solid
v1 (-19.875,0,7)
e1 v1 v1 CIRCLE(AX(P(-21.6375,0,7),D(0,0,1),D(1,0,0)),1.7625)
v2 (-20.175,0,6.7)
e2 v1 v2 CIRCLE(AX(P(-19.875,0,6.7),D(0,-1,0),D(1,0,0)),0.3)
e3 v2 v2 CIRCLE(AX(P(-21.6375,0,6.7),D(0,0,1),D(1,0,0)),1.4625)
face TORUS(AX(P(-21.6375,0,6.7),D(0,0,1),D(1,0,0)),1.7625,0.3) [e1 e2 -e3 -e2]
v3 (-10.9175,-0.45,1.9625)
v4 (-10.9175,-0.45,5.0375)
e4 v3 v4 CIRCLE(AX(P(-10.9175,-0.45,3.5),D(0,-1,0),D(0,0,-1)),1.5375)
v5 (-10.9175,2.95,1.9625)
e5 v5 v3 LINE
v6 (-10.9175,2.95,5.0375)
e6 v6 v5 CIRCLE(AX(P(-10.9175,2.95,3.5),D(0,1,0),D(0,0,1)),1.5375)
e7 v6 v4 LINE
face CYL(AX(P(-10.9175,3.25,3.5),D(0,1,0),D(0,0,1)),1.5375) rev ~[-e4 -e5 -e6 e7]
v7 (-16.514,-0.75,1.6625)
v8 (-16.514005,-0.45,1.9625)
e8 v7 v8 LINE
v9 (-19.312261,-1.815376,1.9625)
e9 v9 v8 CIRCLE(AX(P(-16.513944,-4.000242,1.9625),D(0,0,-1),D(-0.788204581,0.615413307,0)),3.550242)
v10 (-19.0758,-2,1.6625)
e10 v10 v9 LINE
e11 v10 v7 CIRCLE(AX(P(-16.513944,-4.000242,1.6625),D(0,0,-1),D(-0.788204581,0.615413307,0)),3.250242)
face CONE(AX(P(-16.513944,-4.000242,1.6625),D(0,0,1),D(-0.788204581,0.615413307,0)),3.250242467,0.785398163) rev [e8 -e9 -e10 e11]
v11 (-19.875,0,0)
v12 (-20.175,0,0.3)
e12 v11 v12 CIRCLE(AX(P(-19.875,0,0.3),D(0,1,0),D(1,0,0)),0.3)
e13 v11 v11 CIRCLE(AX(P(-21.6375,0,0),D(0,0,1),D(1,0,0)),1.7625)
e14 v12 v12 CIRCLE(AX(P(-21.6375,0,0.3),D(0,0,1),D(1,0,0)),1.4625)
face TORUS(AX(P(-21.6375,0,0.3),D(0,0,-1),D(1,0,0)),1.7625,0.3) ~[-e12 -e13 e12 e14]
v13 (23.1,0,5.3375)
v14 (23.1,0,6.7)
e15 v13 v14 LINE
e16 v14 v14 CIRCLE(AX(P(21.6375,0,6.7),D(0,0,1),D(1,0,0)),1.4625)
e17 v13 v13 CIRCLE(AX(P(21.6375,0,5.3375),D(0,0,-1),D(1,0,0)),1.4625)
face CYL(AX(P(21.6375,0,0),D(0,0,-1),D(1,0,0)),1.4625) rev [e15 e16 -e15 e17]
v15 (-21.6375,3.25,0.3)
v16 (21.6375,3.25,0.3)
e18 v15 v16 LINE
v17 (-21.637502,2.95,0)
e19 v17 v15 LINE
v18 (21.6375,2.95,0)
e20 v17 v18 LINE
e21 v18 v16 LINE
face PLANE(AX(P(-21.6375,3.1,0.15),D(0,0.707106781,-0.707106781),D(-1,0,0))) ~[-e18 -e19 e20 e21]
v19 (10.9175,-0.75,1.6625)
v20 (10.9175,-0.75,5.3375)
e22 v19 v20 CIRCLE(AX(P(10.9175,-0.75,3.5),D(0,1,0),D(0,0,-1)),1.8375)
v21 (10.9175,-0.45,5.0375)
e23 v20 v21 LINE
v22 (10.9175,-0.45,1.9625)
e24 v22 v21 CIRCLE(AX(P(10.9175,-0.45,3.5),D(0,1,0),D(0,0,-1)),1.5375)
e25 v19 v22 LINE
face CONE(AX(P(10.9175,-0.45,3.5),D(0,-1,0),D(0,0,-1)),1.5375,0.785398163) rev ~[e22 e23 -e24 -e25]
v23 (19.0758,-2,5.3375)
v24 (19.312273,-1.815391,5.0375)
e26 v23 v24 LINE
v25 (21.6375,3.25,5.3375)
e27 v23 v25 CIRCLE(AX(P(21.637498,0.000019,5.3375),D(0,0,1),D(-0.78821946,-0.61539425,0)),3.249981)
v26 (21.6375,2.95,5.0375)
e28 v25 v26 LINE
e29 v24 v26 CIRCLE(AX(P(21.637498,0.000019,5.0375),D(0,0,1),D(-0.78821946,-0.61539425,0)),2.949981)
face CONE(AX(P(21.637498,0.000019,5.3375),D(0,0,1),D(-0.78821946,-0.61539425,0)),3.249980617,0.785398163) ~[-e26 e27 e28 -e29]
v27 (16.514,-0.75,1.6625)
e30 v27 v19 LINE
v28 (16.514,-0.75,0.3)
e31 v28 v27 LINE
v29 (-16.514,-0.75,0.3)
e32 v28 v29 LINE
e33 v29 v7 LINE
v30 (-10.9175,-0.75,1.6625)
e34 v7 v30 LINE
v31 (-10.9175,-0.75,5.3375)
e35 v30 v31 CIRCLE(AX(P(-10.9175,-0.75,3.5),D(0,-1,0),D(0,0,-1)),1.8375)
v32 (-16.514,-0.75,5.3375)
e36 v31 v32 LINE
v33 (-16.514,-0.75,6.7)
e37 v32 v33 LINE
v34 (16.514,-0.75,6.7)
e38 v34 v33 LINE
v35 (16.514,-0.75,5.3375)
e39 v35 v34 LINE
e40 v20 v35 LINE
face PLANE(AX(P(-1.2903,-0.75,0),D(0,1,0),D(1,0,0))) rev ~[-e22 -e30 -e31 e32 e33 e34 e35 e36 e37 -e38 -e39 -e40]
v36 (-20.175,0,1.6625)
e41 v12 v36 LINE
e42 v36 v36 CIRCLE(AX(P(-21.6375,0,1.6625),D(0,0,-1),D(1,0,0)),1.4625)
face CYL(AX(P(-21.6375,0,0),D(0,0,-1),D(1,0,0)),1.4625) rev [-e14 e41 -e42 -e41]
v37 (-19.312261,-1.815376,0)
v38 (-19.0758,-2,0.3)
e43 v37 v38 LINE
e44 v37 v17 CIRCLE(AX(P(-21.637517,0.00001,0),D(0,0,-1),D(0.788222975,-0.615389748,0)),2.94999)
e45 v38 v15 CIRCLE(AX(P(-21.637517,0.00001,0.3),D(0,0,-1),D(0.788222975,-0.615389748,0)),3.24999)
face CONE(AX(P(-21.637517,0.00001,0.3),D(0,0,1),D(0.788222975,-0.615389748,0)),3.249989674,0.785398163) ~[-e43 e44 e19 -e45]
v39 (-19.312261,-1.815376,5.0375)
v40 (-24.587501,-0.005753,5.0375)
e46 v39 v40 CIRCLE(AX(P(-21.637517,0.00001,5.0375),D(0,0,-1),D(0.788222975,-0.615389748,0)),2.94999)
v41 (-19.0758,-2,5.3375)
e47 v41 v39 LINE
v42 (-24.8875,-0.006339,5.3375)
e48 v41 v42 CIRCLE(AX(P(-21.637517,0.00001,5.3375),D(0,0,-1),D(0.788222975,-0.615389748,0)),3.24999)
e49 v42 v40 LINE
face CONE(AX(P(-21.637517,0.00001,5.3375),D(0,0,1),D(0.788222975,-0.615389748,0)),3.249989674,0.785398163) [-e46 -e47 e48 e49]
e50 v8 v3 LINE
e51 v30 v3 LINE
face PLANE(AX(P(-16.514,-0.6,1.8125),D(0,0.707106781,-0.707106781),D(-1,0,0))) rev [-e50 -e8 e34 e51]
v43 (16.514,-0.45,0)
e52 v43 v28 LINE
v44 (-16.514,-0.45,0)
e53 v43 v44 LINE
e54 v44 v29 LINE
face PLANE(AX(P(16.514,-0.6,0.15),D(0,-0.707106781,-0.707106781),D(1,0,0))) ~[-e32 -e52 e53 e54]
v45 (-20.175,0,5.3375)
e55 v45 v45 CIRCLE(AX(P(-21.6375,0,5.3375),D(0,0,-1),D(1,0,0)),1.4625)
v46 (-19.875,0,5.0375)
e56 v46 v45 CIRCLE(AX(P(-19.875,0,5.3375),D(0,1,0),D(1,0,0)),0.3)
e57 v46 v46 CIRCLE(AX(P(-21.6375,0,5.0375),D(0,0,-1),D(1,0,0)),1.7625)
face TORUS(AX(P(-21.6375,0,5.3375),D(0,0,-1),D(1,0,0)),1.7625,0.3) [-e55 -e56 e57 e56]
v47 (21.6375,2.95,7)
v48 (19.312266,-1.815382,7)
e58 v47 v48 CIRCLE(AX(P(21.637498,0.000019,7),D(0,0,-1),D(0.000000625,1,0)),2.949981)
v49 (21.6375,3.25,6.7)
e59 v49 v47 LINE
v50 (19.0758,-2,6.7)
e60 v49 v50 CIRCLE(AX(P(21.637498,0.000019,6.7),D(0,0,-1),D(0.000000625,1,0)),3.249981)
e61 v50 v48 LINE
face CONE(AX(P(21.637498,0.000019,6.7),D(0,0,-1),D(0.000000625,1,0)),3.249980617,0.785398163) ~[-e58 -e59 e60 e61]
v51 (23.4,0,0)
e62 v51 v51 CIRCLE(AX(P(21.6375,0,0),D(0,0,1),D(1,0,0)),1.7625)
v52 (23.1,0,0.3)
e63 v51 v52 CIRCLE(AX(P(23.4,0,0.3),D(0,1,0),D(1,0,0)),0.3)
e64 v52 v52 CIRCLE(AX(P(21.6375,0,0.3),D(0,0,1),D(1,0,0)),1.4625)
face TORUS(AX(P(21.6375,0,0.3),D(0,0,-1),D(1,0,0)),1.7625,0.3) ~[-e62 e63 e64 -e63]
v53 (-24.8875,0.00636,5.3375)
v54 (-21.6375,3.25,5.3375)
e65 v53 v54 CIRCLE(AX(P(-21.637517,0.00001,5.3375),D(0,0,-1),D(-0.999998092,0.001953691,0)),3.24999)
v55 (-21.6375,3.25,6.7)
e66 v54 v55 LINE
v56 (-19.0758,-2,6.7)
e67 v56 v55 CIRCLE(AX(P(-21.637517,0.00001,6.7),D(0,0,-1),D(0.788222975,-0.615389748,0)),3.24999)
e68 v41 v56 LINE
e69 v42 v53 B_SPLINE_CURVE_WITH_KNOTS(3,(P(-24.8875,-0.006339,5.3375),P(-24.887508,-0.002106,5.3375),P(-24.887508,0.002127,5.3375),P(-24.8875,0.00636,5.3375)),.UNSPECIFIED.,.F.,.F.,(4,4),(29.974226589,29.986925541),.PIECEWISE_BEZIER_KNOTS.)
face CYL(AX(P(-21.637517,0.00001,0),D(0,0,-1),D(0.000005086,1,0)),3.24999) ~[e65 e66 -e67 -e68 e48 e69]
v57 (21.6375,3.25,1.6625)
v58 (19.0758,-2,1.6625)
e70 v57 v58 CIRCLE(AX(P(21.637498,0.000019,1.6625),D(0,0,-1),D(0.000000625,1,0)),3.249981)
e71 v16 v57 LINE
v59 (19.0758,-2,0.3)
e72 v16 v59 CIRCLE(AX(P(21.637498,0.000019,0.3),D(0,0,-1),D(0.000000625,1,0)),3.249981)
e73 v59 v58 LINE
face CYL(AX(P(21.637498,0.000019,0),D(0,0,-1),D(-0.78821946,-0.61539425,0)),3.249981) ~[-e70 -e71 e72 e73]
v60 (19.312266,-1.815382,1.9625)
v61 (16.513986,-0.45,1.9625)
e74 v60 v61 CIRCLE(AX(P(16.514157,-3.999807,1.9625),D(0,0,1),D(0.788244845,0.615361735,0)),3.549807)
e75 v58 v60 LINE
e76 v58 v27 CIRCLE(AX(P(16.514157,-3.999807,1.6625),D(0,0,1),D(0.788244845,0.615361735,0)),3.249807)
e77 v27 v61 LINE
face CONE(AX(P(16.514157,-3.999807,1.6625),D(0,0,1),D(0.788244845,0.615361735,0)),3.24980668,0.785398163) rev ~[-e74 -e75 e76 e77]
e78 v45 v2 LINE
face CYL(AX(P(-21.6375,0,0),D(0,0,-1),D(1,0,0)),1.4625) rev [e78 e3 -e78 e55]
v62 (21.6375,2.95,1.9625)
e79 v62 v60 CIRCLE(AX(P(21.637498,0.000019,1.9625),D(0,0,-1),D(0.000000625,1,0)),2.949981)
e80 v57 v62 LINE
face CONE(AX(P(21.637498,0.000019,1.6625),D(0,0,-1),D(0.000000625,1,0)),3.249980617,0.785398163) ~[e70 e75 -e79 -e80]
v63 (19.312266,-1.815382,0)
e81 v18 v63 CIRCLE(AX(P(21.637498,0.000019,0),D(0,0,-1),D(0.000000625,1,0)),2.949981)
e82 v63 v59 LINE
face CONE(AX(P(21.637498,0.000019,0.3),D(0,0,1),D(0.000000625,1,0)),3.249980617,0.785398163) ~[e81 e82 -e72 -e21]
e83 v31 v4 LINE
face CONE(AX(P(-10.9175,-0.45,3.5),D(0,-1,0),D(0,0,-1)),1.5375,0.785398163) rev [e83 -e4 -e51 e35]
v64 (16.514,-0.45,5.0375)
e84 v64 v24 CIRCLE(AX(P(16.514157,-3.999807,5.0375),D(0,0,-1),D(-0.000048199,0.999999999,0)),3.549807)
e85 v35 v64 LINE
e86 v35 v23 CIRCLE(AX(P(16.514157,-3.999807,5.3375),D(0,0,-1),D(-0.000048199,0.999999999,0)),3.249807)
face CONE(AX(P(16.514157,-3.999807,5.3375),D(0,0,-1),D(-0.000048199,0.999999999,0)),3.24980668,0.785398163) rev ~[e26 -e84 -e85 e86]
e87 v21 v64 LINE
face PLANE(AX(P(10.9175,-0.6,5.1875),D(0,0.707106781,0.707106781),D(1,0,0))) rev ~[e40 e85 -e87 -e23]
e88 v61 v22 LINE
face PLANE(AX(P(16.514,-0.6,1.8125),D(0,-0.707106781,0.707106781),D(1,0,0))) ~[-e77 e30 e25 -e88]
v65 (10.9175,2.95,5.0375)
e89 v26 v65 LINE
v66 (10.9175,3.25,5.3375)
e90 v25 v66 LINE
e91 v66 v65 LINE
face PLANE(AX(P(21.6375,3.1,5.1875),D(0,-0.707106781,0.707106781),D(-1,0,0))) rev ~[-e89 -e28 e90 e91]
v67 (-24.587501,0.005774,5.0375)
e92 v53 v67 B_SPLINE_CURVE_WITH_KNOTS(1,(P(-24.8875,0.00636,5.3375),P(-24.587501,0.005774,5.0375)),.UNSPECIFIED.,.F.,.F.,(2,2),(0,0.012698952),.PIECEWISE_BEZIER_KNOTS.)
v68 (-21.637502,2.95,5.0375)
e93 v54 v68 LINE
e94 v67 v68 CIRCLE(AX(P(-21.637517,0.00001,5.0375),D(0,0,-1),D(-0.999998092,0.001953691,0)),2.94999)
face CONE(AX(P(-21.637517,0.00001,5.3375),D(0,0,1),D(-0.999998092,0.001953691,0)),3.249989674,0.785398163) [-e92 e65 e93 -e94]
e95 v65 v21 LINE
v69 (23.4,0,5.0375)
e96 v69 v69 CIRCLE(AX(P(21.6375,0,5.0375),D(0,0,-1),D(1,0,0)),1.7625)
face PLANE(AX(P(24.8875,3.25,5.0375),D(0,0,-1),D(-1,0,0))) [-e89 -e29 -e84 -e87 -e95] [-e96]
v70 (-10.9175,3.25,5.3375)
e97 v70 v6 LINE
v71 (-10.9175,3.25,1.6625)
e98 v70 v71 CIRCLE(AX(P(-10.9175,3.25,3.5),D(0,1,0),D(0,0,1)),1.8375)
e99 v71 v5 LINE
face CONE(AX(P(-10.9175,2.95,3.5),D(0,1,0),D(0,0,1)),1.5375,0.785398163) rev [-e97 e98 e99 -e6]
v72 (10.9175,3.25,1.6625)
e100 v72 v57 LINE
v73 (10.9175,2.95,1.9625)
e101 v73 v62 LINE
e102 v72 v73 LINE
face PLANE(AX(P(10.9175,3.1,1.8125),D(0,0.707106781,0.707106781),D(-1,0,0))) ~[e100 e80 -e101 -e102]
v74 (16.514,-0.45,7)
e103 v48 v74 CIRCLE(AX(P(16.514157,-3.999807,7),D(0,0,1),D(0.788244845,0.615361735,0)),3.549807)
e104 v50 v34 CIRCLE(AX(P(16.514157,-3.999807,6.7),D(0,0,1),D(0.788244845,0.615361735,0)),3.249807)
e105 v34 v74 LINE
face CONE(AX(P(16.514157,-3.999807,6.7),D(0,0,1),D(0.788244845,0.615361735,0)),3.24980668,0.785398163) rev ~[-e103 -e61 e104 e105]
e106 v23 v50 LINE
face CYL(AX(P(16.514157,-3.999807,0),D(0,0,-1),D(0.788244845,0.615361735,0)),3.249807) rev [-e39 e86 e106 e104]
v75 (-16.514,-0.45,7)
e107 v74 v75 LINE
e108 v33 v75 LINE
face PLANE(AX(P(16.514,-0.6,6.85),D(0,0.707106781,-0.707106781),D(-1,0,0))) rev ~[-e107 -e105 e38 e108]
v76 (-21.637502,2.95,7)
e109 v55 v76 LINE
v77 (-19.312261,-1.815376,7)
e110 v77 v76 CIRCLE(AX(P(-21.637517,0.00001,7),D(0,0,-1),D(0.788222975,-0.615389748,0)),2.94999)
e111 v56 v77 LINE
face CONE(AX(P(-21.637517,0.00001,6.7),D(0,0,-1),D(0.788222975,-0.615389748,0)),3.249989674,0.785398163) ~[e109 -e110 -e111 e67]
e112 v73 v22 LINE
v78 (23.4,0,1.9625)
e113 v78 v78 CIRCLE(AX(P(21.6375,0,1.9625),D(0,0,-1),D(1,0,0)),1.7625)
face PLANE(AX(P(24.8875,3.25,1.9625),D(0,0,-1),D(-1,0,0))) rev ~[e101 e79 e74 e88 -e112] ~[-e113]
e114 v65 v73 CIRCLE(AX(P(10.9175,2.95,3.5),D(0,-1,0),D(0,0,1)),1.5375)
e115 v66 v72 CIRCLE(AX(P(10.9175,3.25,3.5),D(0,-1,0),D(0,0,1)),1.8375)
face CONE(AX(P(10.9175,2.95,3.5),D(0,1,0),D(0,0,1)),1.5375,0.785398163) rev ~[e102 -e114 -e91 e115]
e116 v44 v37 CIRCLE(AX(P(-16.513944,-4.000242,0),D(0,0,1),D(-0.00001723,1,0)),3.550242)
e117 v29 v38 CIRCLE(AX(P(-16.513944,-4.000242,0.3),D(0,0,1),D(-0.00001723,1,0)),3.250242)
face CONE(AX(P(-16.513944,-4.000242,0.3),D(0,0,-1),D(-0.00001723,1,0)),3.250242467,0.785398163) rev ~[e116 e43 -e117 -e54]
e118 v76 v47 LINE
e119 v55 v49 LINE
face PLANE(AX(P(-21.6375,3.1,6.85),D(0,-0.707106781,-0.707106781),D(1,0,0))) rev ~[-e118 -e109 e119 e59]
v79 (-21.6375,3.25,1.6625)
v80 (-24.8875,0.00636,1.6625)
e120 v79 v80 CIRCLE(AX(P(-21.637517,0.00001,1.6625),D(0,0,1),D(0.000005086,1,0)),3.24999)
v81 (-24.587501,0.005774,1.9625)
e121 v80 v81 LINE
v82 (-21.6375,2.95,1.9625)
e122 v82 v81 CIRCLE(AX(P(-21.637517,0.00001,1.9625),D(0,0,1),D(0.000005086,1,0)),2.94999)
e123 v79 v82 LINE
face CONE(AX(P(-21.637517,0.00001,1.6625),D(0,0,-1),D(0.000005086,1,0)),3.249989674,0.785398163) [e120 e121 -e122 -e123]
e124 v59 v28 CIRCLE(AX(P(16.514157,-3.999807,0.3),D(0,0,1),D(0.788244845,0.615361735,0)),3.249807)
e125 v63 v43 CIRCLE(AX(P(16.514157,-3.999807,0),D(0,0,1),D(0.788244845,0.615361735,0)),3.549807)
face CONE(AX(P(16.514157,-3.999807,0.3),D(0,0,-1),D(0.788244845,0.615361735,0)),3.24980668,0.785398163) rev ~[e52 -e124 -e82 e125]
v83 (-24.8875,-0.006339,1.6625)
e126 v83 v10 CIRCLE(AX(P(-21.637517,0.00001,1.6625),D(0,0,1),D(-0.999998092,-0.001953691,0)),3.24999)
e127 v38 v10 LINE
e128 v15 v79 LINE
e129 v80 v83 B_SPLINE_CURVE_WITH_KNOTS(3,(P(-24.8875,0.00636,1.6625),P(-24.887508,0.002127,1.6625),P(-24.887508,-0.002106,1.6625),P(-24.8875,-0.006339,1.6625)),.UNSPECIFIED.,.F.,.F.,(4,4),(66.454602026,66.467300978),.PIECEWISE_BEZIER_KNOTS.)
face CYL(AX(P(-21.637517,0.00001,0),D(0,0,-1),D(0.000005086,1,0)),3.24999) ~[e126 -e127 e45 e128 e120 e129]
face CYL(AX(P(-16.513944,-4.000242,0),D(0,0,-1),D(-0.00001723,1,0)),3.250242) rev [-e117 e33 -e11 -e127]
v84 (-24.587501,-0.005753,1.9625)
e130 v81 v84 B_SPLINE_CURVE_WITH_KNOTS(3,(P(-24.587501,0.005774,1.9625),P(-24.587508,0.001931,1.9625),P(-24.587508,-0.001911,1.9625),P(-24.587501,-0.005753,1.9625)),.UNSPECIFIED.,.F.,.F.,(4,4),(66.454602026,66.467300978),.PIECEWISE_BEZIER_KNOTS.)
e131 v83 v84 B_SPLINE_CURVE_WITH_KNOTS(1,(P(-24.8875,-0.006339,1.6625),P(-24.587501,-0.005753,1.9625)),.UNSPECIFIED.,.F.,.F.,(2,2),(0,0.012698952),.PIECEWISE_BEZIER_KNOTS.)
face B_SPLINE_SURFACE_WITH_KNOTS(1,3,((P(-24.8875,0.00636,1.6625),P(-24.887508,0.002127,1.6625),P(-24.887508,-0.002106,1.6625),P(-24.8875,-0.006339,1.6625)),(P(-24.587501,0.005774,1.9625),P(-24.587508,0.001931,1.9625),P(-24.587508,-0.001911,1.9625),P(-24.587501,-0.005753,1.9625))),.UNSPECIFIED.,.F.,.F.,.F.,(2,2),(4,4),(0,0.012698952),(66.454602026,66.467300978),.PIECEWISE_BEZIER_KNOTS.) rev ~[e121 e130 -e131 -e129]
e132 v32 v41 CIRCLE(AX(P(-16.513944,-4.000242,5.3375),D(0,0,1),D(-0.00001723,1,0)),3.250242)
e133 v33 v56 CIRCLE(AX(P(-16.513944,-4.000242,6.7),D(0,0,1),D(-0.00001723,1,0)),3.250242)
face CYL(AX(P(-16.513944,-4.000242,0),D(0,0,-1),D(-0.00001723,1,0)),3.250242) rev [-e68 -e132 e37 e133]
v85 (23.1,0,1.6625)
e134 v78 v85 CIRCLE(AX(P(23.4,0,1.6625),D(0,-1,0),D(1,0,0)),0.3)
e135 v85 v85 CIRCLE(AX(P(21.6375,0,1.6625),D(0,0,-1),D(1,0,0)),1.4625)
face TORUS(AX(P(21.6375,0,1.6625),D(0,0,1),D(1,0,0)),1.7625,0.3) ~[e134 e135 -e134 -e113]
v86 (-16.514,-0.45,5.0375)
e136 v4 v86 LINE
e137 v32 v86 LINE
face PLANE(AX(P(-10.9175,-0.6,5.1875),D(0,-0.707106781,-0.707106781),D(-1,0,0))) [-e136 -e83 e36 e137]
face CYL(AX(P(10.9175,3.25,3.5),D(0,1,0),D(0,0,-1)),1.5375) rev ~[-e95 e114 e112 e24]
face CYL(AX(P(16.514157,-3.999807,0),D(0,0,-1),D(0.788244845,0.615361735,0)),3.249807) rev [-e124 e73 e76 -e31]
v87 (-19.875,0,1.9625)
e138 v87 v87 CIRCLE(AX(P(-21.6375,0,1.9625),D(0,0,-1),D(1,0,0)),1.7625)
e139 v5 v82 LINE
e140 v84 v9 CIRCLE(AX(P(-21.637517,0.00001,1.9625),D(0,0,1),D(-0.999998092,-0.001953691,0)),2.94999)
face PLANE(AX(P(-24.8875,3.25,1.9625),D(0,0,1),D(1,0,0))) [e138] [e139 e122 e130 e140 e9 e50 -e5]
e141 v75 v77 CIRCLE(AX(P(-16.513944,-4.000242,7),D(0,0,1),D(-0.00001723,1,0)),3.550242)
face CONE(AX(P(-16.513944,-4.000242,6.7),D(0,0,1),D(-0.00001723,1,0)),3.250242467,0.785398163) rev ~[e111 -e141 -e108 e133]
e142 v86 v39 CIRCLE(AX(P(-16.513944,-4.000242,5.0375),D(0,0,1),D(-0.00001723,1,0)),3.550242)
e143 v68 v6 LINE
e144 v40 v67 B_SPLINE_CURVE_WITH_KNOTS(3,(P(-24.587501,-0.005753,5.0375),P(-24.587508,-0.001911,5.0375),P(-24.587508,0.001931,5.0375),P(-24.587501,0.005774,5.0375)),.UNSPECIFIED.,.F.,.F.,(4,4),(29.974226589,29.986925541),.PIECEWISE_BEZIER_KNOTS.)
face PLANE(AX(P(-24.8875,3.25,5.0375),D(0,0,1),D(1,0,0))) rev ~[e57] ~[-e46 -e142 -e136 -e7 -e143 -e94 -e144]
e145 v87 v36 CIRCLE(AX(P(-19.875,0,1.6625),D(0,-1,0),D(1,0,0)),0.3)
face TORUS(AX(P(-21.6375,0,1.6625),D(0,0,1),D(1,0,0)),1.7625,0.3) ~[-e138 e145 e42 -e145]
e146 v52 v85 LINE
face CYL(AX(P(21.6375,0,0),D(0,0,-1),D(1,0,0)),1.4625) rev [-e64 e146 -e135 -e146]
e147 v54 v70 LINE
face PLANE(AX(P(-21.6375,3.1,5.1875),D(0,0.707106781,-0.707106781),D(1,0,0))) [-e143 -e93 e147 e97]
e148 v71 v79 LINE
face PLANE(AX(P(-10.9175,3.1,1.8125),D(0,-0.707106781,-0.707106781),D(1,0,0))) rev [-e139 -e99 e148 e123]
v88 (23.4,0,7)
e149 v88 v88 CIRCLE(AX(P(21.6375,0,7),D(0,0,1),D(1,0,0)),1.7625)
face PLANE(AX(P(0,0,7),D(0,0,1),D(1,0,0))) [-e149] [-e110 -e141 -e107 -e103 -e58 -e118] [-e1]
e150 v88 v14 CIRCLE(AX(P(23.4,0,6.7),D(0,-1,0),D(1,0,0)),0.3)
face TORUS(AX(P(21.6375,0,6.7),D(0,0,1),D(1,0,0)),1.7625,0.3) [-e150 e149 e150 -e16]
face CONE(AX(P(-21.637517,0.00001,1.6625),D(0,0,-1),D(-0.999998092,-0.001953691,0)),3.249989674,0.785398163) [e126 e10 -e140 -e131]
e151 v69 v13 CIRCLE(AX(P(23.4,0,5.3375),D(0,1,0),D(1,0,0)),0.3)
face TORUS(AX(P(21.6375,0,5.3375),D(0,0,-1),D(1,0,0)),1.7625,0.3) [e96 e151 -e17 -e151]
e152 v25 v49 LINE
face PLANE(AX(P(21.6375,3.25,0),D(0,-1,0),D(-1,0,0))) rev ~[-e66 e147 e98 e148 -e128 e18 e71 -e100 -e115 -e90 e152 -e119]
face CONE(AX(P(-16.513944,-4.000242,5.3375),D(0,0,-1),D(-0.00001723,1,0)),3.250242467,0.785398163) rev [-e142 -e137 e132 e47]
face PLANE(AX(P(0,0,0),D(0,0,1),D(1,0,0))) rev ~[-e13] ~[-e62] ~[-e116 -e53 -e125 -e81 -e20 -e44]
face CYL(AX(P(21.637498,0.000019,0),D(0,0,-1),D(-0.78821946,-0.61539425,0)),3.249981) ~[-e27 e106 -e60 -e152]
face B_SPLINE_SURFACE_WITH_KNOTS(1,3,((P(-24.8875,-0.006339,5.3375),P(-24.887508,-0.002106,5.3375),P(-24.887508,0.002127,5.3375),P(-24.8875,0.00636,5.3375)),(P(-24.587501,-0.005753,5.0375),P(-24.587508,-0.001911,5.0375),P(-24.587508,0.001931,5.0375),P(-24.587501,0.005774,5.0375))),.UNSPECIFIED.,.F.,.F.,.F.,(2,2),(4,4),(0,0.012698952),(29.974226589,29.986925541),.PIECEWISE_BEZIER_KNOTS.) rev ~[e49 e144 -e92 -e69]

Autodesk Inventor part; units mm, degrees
ref_plane "YZ Plane" through (0, 0, 0) normal (1, 0, 0) x (0, 1, 0)
ref_plane "XZ Plane" through (0, 0, 0) normal (0, 1, 0) x (-1, 0, 0)
ref_plane "XY Plane" through (0, 0, 0) normal (0, 0, 1) x (1, 0, 0)
sketch "Sketch1" plane through (0, 0, 0) normal (0, 0, 1) x (1, 0, 0)
  circle A0 centre (21.6375, 0) radius 1.4625
  line L0 (21.6375, 3.25) -> (-1.2903, 3.25)
  line L1 (-446494.9011, 0) -> (446494.9011, 0) construction
  line L2 (-1.2903, -0.75) -> (16.514, -0.75)
  arc A1 (19.0758, -2) -> (21.6375, 3.25) centre (21.6375, 0) ccw
  arc A2 (19.0758, -2) -> (16.514, -0.75) centre (16.514, -4) ccw
  line L3 (0, -446500.8256) -> (0, 446500.0254) construction
  circle A3 centre (-21.6375, 0) radius 1.4625
  line L4 (-21.6375, 3.25) -> (-1.2903, 3.25)
  line L5 (446494.9011, 0) -> (-446494.9011, 0) construction
  line L6 (-1.2903, -0.75) -> (-16.514, -0.75)
  arc A4 (-21.6375, 3.25) -> (-19.0758, -2) centre (-21.6375, 0) ccw
  arc A5 (-16.514, -0.75) -> (-19.0758, -2) centre (-16.514, -4) ccw
  point P0 (0, 0)
  dimension "d0" = 4
  dimension "d1" = 3.25
  dimension "d2" = 3.25
  dimension "d3" = 2.925
  dimension "d4" = 43.275
extrude "Extrusion1" add sketch "Sketch1" along normal blind 7
ref_plane "Work Plane1" through (0, 0, 3.5) normal (0, 0, 1) x (1, 0, 0)
sketch "Sketch2" plane through (-21.6375, 3.25, 0) normal (0, 1, 0) x (1, 0, 0)
  line L0 (56.48, -3.5) -> (-13.205, -3.5) construction
  line L1 (46.525, 0) -> (46.525, -7) construction
  line L2 (46.525, -1.9625) -> (32.555, -1.9625)
  line L3 (46.525, -5.0375) -> (32.555, -5.0375)
  arc A0 (32.555, -1.9625) -> (32.555, -5.0375) centre (32.555, -3.5) ccw
  line L4 (46.525, -1.9625) -> (46.525, -5.0375)
  line L5 (21.6375, 1.4) -> (21.6375, -8.4) construction
  line L6 (-3.25, -1.9625) -> (10.72, -1.9625)
  line L7 (-3.25, -5.0375) -> (10.72, -5.0375)
  arc A1 (10.72, -5.0375) -> (10.72, -1.9625) centre (10.72, -3.5) ccw
  line L8 (-3.25, -1.9625) -> (-3.25, -5.0375)
  point P0 (21.6375, 0)
  dimension "d7" = 3.075
  dimension "d9" = 13.97
extrude "Extrusion2" cut sketch "Sketch2" against normal through all
chamfer "Chamfer1" distance 0.3 angle 45 26 edges at (0, -0.75, 7) (17.9392, -1.0792, 7) (24.5583, -1.4252, 7) (0, 3.25, 7) (-24.5583, -1.4252, 7) (-17.9392, -1.0792, 7) (0, -0.75, 0) (17.9392, -1.0792, 0) (24.5583, -1.4252, 0) (0, 3.25, 0) (-24.5583, -1.4252, 0) (-17.9392, -1.0792, 0) (9.38, -0.75, 3.5) (13.7158, -0.75, 5.0375) (17.9392, -1.0792, 5.0375) (24.5583, -1.4252, 5.0375) (24.5583, -1.4252, 1.9625) (17.9392, -1.0792, 1.9625) (13.7158, -0.75, 1.9625) (-17.9392, -1.0792, 1.9625) (-24.5583, -1.4252, 1.9625) (-16.2775, 3.25, 1.9625) (-9.38, 3.25, 3.5) (-16.2775, 3.25, 5.0375) (-24.5583, -1.4252, 5.0375) (-17.9392, -1.0792, 5.0375)
fillet "Fillet1" radius 0.3 8 edges at (-23.1, 0, 7) (-23.1, 0, 5.0375) (-23.1, 0, 1.9625) (-23.1, 0, 0) (20.175, 0, 7) (20.175, 0, 5.0375) (20.175, 0, 1.9625) (20.175, 0, 0)
equation "\"d0\" = bar_thickness"
equation "\"d1\" = 0.5 * bar_diameter"
equation "\"d2\" = 0.5 * bar_diameter"
equation "\"d3\" = bore_press"
equation "\"d4\" = bar_guid_length_ab"
equation "\"d5\" = bar_width"
equation "\"d7\" = hinge_thickness + finger_link_clearence"
equation "\"d10\" = hinge_thickness"
equation "\"d12\" = champfer"
equation "\"bar_length_bc\" = finger_part_B_length"
equation "\"hinge_thickness\" = 3"
equation "\"bar_diameter\" = 6.5"
equation "\"bore_clearance\" = 3.025"
equation "\"finger_width\" = 25"
equation "\"finger_thickness\" = 8"
equation "\"finger_part_A_length\" = 42.8625"
equation "\"finger_part_B_length\" = 28.575"
equation "\"finger_link_width\" = 3.5"
equation "\"finger_link_clearence\" = 0.075"
equation "\"tol\" = 0.5 * finger_link_clearence"
equation "\"link_tol\" = 0.254"
equation "\"bore_press\" = 2.925"
equation "\"bar_thickness\" = 4"
equation "\"hinge_dist_sym_plane\" = 4"
equation "\"hinge_act_length_c\" = 7.62"
equation "\"hinge_act_length_bc\" = 16.66875"
equation "\"hinge_act_length_ab\" = 11.049"
equation "\"hinge_act_length_a\" = 21.43125"
equation "\"hinge_guid_length_c\" = 9.525"
equation "\"hinge_guid_length_bc\" = 9.525"
equation "\"hinge_guid_length_ab\" = 17.145"
equation "\"hinge_guid_length_a\" = 17.145"
equation "\"bar_act_length_ab\" = 40.48125"
equation "\"bar_guid_length_ab\" = 43.275"
equation "\"bar_width\" = 7"
equation "\"champfer\" = 0.3"
equation "\"fillet\" = 0.4"
equation "\"gear_diameter\" = 14"
equation "\"dist_finger_BC\" = 56.5"
equation "\"hinge_point\" = 15"
properties part number "bar_guid_ab"
